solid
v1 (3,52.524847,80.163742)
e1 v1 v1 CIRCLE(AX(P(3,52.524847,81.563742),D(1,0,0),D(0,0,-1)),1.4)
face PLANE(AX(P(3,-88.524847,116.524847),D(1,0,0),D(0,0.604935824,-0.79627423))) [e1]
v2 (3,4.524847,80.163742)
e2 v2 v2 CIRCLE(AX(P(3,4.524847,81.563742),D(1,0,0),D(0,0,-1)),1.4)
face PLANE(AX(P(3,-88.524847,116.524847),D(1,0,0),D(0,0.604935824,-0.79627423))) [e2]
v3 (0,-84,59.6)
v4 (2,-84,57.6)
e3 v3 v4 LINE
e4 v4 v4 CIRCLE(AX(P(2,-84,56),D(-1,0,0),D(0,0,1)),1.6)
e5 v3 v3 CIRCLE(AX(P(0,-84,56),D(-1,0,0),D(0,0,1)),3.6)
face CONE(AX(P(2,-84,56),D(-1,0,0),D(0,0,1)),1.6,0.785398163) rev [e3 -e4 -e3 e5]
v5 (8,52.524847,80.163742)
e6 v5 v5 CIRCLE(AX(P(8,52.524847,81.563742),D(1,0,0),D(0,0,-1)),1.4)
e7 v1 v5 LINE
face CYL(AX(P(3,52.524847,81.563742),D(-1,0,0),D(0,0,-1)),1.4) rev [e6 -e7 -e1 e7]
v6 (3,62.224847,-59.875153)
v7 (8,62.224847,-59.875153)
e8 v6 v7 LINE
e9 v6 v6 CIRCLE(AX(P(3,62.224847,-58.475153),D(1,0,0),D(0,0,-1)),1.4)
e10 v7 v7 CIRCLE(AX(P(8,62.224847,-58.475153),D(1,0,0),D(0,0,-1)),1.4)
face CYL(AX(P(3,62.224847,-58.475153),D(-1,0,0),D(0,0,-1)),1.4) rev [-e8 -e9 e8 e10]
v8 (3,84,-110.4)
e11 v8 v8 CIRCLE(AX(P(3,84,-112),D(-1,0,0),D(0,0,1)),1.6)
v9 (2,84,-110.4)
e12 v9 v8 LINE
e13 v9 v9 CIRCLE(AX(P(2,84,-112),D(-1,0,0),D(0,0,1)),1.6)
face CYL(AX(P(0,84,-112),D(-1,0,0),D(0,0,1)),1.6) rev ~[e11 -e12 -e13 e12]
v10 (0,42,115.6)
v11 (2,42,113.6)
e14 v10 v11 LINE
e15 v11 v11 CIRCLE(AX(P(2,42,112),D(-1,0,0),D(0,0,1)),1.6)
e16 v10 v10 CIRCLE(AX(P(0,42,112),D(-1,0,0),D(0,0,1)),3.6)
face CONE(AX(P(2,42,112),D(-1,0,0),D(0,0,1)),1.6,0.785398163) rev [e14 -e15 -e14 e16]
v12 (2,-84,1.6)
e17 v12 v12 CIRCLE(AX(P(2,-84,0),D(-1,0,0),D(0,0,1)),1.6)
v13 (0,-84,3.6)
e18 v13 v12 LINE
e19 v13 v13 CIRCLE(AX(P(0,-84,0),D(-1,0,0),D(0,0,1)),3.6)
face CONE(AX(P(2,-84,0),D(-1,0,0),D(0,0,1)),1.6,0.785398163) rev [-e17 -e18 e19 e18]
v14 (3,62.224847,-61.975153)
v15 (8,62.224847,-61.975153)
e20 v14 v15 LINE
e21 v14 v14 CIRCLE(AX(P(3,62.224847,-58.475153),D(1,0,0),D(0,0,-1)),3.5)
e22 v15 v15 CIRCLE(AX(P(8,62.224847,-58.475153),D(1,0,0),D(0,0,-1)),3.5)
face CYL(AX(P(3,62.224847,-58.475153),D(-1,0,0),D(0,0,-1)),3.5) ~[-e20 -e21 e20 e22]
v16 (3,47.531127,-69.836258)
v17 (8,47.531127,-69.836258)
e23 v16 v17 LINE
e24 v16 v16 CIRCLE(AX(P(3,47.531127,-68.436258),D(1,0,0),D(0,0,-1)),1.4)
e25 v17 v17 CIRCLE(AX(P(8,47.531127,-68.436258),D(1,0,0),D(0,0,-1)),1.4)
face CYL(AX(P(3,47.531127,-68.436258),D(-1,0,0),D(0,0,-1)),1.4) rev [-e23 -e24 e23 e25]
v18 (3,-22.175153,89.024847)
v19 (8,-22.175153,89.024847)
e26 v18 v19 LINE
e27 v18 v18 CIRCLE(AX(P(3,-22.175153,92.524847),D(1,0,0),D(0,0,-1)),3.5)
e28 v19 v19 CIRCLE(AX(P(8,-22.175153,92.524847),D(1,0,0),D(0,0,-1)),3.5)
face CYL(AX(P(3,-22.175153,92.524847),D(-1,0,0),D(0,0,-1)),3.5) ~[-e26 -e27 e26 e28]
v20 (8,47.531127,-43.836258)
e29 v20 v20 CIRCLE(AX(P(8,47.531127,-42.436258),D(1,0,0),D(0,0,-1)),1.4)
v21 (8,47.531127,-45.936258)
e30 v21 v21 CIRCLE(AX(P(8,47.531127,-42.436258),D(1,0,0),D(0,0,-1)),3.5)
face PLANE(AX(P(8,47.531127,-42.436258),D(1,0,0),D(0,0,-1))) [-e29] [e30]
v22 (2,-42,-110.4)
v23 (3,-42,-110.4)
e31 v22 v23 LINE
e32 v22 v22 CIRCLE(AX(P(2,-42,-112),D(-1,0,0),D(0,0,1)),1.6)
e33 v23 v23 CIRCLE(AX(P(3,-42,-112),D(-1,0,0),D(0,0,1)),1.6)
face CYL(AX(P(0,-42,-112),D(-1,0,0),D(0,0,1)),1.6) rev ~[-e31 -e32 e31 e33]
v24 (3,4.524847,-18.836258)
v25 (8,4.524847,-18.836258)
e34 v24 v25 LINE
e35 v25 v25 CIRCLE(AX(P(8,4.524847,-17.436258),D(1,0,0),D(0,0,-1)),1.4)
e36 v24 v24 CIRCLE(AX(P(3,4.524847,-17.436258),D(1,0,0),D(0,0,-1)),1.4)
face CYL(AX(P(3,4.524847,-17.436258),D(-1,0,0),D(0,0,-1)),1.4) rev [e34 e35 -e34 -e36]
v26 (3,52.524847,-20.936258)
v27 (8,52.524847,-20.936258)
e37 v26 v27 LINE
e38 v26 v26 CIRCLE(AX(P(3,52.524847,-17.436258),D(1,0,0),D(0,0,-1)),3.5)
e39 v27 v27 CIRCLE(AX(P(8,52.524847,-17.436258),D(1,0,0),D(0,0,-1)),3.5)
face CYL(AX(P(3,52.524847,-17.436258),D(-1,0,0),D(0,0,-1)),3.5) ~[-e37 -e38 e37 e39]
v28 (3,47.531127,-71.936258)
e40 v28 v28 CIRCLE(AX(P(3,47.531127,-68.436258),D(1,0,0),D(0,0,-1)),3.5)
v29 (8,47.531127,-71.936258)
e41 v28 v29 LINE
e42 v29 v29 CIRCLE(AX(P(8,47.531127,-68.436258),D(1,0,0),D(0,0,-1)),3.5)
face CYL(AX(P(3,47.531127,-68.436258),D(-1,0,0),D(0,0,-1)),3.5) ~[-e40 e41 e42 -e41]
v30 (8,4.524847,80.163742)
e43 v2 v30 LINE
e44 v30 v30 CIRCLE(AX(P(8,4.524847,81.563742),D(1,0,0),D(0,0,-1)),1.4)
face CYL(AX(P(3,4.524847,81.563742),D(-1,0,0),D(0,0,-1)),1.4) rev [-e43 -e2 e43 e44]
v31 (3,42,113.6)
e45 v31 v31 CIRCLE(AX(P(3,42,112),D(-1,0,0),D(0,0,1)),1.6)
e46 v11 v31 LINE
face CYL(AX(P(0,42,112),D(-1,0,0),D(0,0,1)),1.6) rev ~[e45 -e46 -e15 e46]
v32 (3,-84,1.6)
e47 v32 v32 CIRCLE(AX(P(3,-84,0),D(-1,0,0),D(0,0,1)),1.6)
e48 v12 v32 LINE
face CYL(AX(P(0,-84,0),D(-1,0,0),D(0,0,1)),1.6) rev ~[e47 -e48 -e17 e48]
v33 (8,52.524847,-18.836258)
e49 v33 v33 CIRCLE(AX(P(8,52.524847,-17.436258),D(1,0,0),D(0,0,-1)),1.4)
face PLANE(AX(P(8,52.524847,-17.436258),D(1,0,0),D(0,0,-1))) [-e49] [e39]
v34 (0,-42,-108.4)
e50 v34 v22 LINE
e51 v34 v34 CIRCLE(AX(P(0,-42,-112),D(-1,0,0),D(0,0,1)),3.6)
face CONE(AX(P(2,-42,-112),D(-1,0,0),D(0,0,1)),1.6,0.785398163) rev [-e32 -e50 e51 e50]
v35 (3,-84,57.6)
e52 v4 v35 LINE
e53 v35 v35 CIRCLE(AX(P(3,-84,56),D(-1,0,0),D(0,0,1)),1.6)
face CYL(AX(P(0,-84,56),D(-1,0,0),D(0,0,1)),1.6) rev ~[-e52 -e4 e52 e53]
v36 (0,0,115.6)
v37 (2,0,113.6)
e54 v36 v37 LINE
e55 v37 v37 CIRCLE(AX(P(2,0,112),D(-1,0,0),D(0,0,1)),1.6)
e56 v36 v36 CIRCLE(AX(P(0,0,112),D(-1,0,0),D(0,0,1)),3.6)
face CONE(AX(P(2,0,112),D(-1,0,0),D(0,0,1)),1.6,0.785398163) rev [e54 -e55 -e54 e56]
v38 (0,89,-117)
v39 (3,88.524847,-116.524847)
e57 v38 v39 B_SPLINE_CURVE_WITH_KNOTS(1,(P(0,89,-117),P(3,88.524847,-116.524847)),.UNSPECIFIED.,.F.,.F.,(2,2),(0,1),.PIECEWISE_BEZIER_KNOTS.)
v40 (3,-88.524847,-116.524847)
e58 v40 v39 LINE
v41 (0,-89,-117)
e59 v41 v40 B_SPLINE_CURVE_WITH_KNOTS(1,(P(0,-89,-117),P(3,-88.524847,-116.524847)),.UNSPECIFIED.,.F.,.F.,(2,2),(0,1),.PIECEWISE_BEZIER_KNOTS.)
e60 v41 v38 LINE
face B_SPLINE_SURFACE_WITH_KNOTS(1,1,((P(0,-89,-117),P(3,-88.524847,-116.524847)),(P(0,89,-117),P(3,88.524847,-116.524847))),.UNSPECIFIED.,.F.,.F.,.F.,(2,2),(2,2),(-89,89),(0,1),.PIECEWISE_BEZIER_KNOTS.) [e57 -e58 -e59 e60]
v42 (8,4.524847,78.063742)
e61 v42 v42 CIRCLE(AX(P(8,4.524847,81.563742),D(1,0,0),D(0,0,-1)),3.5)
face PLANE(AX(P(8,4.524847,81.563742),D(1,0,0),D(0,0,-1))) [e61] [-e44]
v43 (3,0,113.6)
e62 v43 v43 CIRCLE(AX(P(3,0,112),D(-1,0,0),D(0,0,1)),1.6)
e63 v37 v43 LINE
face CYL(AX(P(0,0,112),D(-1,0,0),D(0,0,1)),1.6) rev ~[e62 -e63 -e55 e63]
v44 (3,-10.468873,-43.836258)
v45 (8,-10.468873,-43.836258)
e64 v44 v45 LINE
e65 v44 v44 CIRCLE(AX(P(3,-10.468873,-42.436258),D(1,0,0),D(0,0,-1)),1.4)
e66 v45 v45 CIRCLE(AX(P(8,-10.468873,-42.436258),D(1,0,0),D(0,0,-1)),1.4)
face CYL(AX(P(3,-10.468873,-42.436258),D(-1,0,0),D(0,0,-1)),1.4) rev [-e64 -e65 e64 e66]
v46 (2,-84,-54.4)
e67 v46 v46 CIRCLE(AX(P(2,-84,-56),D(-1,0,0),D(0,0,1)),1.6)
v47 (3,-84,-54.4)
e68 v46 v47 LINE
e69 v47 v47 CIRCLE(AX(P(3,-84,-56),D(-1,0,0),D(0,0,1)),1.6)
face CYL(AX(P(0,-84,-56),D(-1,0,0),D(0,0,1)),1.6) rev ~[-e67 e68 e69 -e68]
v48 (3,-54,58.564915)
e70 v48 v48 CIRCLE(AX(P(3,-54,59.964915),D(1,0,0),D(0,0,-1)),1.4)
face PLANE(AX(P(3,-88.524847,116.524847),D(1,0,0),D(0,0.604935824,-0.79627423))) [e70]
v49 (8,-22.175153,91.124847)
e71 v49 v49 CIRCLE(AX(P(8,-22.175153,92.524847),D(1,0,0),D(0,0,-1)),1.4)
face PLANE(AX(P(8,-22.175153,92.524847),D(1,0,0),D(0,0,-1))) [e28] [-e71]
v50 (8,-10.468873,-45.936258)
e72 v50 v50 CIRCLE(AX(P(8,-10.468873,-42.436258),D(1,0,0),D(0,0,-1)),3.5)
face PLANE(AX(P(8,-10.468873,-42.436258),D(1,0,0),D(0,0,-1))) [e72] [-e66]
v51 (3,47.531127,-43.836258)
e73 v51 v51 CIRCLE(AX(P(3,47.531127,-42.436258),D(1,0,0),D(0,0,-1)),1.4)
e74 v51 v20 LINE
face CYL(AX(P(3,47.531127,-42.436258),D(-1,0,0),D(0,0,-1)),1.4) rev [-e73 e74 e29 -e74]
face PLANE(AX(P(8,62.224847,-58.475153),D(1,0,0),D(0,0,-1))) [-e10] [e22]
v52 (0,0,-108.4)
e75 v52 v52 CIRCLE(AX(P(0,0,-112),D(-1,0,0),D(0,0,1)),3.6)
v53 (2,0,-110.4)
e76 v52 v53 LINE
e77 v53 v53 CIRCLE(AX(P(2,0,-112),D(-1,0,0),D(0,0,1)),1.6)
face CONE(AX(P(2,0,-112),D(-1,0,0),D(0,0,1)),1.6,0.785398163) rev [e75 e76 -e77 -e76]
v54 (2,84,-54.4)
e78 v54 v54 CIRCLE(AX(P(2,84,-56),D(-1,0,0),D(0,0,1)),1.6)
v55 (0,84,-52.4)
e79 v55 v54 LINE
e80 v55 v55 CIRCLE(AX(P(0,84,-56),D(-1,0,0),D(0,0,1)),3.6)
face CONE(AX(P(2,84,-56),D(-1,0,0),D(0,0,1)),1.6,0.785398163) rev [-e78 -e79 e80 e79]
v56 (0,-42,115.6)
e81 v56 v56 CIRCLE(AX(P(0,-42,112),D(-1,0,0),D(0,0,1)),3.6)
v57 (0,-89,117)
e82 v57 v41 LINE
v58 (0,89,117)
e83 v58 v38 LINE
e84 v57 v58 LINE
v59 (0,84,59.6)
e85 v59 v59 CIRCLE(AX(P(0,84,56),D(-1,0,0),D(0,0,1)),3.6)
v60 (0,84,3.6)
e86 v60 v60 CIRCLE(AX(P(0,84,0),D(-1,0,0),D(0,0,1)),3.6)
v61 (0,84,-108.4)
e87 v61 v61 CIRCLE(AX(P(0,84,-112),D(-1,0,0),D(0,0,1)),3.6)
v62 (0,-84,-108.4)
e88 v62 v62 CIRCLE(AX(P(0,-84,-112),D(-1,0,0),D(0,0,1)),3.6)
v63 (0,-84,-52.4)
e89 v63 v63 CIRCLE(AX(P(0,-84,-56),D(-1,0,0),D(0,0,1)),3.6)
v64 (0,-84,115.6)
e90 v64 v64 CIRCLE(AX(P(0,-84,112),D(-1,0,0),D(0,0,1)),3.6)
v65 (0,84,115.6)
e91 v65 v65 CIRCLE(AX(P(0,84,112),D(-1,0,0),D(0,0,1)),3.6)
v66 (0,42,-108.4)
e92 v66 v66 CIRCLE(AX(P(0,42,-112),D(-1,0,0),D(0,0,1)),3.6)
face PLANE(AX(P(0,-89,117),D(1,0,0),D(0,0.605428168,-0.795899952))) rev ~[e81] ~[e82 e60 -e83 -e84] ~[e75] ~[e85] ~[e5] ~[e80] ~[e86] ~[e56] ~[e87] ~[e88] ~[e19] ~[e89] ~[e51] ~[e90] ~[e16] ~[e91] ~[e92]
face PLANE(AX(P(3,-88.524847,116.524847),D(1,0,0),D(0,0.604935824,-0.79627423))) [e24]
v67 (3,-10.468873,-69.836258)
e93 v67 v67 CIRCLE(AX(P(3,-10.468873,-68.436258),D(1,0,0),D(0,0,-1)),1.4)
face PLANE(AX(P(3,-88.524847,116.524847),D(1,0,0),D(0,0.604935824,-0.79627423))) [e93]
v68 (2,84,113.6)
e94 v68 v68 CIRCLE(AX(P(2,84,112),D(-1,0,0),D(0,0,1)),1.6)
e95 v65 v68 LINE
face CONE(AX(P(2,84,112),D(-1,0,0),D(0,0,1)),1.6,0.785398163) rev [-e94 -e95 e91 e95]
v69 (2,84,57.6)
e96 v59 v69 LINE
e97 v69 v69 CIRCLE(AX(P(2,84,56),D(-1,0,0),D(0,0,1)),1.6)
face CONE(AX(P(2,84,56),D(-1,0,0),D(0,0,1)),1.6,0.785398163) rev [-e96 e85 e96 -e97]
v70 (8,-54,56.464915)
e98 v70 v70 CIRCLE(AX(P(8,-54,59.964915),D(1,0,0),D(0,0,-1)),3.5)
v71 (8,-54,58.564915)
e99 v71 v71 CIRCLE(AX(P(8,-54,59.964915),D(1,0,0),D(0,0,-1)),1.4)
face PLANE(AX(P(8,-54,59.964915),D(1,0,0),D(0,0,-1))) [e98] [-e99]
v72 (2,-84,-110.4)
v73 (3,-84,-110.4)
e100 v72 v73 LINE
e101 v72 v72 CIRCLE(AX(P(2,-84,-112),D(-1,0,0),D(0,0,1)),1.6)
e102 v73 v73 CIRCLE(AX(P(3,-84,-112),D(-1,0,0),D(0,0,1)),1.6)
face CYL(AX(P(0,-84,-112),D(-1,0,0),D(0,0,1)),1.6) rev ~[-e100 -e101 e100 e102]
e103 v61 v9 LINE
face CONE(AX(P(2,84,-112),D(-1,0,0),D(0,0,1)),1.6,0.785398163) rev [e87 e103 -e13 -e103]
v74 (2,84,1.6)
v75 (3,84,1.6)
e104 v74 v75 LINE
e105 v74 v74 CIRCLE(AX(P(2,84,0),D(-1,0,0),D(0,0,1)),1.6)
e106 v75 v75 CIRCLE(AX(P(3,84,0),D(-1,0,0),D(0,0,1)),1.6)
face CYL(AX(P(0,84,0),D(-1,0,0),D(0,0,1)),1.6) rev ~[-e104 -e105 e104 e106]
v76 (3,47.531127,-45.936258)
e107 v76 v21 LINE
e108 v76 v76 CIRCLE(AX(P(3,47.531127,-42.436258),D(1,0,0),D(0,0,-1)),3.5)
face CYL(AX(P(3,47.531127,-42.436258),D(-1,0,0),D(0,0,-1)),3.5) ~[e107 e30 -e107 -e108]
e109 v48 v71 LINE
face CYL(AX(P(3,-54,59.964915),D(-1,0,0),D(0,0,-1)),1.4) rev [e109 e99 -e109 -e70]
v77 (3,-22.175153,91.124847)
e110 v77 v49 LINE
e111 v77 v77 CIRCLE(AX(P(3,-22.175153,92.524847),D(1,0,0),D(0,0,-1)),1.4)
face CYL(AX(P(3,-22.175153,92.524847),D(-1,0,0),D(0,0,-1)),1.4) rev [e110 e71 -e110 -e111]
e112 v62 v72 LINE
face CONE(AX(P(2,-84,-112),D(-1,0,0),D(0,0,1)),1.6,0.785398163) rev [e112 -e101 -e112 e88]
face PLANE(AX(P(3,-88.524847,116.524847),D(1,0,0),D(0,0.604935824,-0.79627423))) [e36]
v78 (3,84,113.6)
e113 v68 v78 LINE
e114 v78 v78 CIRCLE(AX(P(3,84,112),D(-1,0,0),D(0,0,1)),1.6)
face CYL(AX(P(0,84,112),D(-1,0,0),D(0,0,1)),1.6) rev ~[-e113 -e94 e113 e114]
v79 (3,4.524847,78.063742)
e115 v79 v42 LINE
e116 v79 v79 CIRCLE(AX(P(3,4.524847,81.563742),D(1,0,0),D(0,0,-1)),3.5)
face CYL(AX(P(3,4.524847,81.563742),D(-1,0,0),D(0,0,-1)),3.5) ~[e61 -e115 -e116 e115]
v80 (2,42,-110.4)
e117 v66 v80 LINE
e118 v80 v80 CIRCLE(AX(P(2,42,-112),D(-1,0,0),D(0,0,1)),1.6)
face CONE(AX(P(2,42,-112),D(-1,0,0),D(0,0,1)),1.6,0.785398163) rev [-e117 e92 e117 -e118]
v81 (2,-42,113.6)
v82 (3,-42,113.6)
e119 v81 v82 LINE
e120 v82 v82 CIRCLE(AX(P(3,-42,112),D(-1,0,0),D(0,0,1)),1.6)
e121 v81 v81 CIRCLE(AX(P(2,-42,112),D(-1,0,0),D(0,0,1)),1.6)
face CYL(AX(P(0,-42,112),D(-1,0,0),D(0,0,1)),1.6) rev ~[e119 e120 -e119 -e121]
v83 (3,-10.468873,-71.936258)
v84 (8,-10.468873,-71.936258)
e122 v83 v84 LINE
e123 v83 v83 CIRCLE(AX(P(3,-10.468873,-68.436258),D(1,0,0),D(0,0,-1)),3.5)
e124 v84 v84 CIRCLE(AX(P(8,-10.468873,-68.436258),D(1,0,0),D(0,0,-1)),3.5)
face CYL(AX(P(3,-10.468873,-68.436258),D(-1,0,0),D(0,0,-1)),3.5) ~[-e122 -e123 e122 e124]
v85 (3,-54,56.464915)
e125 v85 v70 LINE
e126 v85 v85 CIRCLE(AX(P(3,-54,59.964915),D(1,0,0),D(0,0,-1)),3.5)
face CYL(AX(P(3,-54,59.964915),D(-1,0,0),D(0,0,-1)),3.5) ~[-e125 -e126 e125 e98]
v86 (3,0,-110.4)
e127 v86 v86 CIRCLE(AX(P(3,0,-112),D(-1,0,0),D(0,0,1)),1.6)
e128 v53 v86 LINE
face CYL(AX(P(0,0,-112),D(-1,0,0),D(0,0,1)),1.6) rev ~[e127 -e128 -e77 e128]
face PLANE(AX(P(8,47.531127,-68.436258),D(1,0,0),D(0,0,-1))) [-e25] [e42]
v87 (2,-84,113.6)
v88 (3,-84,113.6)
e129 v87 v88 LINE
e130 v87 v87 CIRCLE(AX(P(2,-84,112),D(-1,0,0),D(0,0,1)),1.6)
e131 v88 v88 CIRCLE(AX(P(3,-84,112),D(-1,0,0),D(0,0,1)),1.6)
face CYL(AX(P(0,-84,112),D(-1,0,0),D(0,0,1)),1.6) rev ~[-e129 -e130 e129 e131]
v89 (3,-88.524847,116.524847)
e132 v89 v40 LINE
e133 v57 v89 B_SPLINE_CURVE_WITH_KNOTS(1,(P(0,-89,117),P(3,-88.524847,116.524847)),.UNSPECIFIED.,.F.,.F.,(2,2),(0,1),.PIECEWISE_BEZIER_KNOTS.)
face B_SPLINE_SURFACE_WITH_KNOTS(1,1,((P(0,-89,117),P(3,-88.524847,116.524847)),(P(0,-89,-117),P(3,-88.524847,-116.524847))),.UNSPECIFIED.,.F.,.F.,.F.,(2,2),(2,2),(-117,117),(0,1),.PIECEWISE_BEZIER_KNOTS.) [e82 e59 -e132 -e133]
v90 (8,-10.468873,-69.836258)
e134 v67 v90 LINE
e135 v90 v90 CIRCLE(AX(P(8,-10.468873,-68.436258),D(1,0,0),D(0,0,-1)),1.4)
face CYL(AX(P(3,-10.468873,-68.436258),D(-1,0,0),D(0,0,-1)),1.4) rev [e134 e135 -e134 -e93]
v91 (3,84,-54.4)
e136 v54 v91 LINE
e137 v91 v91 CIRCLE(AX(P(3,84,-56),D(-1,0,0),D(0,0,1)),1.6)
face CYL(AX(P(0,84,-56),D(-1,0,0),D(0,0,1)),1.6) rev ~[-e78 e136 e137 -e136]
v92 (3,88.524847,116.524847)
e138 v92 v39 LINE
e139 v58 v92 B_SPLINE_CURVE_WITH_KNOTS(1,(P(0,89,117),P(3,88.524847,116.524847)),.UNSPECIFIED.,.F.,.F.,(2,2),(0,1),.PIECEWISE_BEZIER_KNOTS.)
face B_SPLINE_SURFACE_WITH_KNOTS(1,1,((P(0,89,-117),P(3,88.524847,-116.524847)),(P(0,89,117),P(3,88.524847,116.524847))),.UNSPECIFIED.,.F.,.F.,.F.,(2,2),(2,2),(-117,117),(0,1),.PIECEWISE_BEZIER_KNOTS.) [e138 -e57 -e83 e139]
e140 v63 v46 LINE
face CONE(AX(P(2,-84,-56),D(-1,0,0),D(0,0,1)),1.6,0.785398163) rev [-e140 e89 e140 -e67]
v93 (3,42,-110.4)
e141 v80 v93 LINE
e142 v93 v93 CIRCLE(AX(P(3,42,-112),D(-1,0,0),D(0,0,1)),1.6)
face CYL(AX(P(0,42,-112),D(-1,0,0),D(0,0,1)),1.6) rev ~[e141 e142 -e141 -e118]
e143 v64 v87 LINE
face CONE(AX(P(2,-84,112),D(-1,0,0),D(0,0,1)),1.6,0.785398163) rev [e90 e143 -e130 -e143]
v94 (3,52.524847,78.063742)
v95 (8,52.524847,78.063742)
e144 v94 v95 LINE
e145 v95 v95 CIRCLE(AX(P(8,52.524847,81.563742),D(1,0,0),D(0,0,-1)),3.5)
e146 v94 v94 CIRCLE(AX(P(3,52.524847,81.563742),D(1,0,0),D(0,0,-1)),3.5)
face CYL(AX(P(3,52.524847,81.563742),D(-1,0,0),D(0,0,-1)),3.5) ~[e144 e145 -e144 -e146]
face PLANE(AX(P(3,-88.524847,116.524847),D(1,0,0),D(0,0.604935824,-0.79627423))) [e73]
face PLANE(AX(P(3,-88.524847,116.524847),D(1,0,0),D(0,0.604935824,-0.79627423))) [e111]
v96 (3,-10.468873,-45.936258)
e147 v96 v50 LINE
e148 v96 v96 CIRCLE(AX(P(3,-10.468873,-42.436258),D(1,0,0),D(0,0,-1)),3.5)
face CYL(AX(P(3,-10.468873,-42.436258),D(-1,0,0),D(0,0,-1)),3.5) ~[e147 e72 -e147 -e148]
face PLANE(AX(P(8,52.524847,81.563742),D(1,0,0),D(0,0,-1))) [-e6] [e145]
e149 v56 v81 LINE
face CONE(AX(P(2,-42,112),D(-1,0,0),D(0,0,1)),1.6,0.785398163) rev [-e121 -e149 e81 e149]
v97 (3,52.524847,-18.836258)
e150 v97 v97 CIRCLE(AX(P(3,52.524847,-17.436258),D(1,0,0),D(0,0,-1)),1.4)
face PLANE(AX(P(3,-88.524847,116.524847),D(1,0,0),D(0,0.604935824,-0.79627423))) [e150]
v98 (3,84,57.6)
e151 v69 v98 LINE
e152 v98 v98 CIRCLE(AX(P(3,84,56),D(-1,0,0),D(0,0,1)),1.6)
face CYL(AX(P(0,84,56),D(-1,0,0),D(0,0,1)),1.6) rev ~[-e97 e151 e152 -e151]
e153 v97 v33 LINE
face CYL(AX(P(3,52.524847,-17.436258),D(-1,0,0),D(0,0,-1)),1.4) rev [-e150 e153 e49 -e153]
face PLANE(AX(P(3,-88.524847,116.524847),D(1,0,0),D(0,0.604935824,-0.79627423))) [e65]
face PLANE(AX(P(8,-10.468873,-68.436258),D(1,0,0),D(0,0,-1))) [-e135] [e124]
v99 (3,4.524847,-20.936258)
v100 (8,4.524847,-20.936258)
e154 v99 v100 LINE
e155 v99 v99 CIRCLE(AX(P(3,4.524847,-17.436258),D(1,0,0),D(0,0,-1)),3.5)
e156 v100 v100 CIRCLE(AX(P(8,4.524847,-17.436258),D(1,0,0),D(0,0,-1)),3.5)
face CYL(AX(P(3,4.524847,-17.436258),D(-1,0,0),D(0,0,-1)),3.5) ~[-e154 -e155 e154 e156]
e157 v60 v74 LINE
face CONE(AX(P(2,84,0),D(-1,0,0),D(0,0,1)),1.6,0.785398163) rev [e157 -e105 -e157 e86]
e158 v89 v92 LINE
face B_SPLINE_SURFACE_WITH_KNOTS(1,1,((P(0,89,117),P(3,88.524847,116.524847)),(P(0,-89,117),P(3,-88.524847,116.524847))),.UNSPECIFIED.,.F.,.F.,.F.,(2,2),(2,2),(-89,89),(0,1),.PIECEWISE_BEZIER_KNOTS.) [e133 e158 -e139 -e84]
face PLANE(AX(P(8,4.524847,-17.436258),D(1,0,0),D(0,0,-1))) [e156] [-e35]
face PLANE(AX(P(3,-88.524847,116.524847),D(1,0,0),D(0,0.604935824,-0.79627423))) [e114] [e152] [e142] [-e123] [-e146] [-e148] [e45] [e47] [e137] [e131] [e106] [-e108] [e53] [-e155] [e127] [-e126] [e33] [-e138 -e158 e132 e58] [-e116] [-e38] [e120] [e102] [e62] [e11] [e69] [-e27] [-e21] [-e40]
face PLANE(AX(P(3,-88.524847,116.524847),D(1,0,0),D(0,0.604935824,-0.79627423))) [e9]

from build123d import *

# Parameters (mm, degrees)
SKETCH1_W           = 234
SKETCH1_H           = 178
BOSS_EXTRUDE1_DEPTH = 3
BOSS_EXTRUDE1_TAPER = 9
SKETCH2_R           = 3.5
SKETCH2_R_2         = 1.4
BOSS_EXTRUDE2_DEPTH = 5
SKETCH3_R           = 1.6
CUT_EXTRUDE1_DEPTH  = 3
CHAMFER1_SIZE       = 2


with BuildPart() as part:
    # Sketch1 → Boss-Extrude1 (new body)
    with BuildSketch(Plane(origin=(0, 0, 0), x_dir=(0, 0, -1), z_dir=(1, 0, 0))):
        Rectangle(SKETCH1_W, SKETCH1_H)
    extrude(amount=BOSS_EXTRUDE1_DEPTH, taper=BOSS_EXTRUDE1_TAPER)

    # Sketch2 → Boss-Extrude2 (add)
    with BuildSketch(Plane(origin=(3, 0, 0), x_dir=(0, 0, -1), z_dir=(1, 0, 0))):
        with Locations((-92.524846679, -22.175153321)):
            Circle(SKETCH2_R)
        with Locations((-92.524846679, -22.175153321)):
            Circle(SKETCH2_R_2, mode=Mode.SUBTRACT)
        with Locations((58.475153321, 62.224846679)):
            Circle(SKETCH2_R)
        with Locations((58.475153321, 62.224846679)):
            Circle(SKETCH2_R_2, mode=Mode.SUBTRACT)
        with Locations((-81.563741741, 52.524846679)):
            Circle(SKETCH2_R)
        with Locations((-81.563741741, 52.524846679)):
            Circle(SKETCH2_R_2, mode=Mode.SUBTRACT)
        with Locations((17.436258259, 52.524846679)):
            Circle(SKETCH2_R)
        with Locations((17.436258259, 52.524846679)):
            Circle(SKETCH2_R_2, mode=Mode.SUBTRACT)
        with Locations((42.436258259, 47.531127093)):
            Circle(SKETCH2_R)
        with Locations((42.436258259, 47.531127093)):
            Circle(SKETCH2_R_2, mode=Mode.SUBTRACT)
        with Locations((68.436258259, 47.531127093)):
            Circle(SKETCH2_R)
        with Locations((68.436258259, 47.531127093)):
            Circle(SKETCH2_R_2, mode=Mode.SUBTRACT)
        with Locations((42.436258259, -10.468872907)):
            Circle(SKETCH2_R)
        with Locations((42.436258259, -10.468872907)):
            Circle(SKETCH2_R_2, mode=Mode.SUBTRACT)
        with Locations((68.436258259, -10.468872907)):
            Circle(SKETCH2_R)
        with Locations((68.436258259, -10.468872907)):
            Circle(SKETCH2_R_2, mode=Mode.SUBTRACT)
        with Locations((17.436258259, 4.524846679)):
            Circle(SKETCH2_R)
        with Locations((17.436258259, 4.524846679)):
            Circle(SKETCH2_R_2, mode=Mode.SUBTRACT)
        with Locations((-81.563741741, 4.524846679)):
            Circle(SKETCH2_R)
        with Locations((-81.563741741, 4.524846679)):
            Circle(SKETCH2_R_2, mode=Mode.SUBTRACT)
        with Locations((-59.964914916, -54)):
            Circle(SKETCH2_R)
        with Locations((-59.964914916, -54)):
            Circle(SKETCH2_R_2, mode=Mode.SUBTRACT)
    extrude(amount=BOSS_EXTRUDE2_DEPTH)

    # Sketch3 → Cut-Extrude1 (cut)
    with BuildSketch(Plane.ZY):
        with Locations((-112, 84)):
            Circle(SKETCH3_R)
        with Locations((-56, 84)):
            Circle(SKETCH3_R)
        with Locations((0, 84)):
            Circle(SKETCH3_R)
        with Locations((56, 84)):
            Circle(SKETCH3_R)
        with Locations((112, 84)):
            Circle(SKETCH3_R)
        with Locations((112, 42)):
            Circle(SKETCH3_R)
        with Locations((112, 0)):
            Circle(SKETCH3_R)
        with Locations((112, -42)):
            Circle(SKETCH3_R)
        with Locations((112, -84)):
            Circle(SKETCH3_R)
        with Locations((56, -84)):
            Circle(SKETCH3_R)
        with Locations((0, -84)):
            Circle(SKETCH3_R)
        with Locations((-56, -84)):
            Circle(SKETCH3_R)
        with Locations((-112, -84)):
            Circle(SKETCH3_R)
        with Locations((-112, 42)):
            Circle(SKETCH3_R)
        with Locations((-112, 0)):
            Circle(SKETCH3_R)
        with Locations((-112, -42)):
            Circle(SKETCH3_R)
    extrude(amount=-CUT_EXTRUDE1_DEPTH, mode=Mode.SUBTRACT)

    # Chamfer1
    chamfer1_edges = [part.edges().sort_by_distance(p)[0] for p in [
        (0, 84, 54.4),
        (0, 84, -1.6),
        (0, 84, -57.6),
        (0, 84, 110.4),
        (0, -42, 110.4),
        (0, 0, 110.4),
        (0, 42, 110.4),
        (0, -84, 110.4),
        (0, -84, 54.4),
        (0, -84, -1.6),
        (0, -84, -57.6),
        (0, -84, -113.6),
        (0, 42, -113.6),
        (0, 0, -113.6),
        (0, -42, -113.6),
        (0, 84, -113.6),
    ]]
    chamfer(chamfer1_edges, length=CHAMFER1_SIZE)


solid = part.part
